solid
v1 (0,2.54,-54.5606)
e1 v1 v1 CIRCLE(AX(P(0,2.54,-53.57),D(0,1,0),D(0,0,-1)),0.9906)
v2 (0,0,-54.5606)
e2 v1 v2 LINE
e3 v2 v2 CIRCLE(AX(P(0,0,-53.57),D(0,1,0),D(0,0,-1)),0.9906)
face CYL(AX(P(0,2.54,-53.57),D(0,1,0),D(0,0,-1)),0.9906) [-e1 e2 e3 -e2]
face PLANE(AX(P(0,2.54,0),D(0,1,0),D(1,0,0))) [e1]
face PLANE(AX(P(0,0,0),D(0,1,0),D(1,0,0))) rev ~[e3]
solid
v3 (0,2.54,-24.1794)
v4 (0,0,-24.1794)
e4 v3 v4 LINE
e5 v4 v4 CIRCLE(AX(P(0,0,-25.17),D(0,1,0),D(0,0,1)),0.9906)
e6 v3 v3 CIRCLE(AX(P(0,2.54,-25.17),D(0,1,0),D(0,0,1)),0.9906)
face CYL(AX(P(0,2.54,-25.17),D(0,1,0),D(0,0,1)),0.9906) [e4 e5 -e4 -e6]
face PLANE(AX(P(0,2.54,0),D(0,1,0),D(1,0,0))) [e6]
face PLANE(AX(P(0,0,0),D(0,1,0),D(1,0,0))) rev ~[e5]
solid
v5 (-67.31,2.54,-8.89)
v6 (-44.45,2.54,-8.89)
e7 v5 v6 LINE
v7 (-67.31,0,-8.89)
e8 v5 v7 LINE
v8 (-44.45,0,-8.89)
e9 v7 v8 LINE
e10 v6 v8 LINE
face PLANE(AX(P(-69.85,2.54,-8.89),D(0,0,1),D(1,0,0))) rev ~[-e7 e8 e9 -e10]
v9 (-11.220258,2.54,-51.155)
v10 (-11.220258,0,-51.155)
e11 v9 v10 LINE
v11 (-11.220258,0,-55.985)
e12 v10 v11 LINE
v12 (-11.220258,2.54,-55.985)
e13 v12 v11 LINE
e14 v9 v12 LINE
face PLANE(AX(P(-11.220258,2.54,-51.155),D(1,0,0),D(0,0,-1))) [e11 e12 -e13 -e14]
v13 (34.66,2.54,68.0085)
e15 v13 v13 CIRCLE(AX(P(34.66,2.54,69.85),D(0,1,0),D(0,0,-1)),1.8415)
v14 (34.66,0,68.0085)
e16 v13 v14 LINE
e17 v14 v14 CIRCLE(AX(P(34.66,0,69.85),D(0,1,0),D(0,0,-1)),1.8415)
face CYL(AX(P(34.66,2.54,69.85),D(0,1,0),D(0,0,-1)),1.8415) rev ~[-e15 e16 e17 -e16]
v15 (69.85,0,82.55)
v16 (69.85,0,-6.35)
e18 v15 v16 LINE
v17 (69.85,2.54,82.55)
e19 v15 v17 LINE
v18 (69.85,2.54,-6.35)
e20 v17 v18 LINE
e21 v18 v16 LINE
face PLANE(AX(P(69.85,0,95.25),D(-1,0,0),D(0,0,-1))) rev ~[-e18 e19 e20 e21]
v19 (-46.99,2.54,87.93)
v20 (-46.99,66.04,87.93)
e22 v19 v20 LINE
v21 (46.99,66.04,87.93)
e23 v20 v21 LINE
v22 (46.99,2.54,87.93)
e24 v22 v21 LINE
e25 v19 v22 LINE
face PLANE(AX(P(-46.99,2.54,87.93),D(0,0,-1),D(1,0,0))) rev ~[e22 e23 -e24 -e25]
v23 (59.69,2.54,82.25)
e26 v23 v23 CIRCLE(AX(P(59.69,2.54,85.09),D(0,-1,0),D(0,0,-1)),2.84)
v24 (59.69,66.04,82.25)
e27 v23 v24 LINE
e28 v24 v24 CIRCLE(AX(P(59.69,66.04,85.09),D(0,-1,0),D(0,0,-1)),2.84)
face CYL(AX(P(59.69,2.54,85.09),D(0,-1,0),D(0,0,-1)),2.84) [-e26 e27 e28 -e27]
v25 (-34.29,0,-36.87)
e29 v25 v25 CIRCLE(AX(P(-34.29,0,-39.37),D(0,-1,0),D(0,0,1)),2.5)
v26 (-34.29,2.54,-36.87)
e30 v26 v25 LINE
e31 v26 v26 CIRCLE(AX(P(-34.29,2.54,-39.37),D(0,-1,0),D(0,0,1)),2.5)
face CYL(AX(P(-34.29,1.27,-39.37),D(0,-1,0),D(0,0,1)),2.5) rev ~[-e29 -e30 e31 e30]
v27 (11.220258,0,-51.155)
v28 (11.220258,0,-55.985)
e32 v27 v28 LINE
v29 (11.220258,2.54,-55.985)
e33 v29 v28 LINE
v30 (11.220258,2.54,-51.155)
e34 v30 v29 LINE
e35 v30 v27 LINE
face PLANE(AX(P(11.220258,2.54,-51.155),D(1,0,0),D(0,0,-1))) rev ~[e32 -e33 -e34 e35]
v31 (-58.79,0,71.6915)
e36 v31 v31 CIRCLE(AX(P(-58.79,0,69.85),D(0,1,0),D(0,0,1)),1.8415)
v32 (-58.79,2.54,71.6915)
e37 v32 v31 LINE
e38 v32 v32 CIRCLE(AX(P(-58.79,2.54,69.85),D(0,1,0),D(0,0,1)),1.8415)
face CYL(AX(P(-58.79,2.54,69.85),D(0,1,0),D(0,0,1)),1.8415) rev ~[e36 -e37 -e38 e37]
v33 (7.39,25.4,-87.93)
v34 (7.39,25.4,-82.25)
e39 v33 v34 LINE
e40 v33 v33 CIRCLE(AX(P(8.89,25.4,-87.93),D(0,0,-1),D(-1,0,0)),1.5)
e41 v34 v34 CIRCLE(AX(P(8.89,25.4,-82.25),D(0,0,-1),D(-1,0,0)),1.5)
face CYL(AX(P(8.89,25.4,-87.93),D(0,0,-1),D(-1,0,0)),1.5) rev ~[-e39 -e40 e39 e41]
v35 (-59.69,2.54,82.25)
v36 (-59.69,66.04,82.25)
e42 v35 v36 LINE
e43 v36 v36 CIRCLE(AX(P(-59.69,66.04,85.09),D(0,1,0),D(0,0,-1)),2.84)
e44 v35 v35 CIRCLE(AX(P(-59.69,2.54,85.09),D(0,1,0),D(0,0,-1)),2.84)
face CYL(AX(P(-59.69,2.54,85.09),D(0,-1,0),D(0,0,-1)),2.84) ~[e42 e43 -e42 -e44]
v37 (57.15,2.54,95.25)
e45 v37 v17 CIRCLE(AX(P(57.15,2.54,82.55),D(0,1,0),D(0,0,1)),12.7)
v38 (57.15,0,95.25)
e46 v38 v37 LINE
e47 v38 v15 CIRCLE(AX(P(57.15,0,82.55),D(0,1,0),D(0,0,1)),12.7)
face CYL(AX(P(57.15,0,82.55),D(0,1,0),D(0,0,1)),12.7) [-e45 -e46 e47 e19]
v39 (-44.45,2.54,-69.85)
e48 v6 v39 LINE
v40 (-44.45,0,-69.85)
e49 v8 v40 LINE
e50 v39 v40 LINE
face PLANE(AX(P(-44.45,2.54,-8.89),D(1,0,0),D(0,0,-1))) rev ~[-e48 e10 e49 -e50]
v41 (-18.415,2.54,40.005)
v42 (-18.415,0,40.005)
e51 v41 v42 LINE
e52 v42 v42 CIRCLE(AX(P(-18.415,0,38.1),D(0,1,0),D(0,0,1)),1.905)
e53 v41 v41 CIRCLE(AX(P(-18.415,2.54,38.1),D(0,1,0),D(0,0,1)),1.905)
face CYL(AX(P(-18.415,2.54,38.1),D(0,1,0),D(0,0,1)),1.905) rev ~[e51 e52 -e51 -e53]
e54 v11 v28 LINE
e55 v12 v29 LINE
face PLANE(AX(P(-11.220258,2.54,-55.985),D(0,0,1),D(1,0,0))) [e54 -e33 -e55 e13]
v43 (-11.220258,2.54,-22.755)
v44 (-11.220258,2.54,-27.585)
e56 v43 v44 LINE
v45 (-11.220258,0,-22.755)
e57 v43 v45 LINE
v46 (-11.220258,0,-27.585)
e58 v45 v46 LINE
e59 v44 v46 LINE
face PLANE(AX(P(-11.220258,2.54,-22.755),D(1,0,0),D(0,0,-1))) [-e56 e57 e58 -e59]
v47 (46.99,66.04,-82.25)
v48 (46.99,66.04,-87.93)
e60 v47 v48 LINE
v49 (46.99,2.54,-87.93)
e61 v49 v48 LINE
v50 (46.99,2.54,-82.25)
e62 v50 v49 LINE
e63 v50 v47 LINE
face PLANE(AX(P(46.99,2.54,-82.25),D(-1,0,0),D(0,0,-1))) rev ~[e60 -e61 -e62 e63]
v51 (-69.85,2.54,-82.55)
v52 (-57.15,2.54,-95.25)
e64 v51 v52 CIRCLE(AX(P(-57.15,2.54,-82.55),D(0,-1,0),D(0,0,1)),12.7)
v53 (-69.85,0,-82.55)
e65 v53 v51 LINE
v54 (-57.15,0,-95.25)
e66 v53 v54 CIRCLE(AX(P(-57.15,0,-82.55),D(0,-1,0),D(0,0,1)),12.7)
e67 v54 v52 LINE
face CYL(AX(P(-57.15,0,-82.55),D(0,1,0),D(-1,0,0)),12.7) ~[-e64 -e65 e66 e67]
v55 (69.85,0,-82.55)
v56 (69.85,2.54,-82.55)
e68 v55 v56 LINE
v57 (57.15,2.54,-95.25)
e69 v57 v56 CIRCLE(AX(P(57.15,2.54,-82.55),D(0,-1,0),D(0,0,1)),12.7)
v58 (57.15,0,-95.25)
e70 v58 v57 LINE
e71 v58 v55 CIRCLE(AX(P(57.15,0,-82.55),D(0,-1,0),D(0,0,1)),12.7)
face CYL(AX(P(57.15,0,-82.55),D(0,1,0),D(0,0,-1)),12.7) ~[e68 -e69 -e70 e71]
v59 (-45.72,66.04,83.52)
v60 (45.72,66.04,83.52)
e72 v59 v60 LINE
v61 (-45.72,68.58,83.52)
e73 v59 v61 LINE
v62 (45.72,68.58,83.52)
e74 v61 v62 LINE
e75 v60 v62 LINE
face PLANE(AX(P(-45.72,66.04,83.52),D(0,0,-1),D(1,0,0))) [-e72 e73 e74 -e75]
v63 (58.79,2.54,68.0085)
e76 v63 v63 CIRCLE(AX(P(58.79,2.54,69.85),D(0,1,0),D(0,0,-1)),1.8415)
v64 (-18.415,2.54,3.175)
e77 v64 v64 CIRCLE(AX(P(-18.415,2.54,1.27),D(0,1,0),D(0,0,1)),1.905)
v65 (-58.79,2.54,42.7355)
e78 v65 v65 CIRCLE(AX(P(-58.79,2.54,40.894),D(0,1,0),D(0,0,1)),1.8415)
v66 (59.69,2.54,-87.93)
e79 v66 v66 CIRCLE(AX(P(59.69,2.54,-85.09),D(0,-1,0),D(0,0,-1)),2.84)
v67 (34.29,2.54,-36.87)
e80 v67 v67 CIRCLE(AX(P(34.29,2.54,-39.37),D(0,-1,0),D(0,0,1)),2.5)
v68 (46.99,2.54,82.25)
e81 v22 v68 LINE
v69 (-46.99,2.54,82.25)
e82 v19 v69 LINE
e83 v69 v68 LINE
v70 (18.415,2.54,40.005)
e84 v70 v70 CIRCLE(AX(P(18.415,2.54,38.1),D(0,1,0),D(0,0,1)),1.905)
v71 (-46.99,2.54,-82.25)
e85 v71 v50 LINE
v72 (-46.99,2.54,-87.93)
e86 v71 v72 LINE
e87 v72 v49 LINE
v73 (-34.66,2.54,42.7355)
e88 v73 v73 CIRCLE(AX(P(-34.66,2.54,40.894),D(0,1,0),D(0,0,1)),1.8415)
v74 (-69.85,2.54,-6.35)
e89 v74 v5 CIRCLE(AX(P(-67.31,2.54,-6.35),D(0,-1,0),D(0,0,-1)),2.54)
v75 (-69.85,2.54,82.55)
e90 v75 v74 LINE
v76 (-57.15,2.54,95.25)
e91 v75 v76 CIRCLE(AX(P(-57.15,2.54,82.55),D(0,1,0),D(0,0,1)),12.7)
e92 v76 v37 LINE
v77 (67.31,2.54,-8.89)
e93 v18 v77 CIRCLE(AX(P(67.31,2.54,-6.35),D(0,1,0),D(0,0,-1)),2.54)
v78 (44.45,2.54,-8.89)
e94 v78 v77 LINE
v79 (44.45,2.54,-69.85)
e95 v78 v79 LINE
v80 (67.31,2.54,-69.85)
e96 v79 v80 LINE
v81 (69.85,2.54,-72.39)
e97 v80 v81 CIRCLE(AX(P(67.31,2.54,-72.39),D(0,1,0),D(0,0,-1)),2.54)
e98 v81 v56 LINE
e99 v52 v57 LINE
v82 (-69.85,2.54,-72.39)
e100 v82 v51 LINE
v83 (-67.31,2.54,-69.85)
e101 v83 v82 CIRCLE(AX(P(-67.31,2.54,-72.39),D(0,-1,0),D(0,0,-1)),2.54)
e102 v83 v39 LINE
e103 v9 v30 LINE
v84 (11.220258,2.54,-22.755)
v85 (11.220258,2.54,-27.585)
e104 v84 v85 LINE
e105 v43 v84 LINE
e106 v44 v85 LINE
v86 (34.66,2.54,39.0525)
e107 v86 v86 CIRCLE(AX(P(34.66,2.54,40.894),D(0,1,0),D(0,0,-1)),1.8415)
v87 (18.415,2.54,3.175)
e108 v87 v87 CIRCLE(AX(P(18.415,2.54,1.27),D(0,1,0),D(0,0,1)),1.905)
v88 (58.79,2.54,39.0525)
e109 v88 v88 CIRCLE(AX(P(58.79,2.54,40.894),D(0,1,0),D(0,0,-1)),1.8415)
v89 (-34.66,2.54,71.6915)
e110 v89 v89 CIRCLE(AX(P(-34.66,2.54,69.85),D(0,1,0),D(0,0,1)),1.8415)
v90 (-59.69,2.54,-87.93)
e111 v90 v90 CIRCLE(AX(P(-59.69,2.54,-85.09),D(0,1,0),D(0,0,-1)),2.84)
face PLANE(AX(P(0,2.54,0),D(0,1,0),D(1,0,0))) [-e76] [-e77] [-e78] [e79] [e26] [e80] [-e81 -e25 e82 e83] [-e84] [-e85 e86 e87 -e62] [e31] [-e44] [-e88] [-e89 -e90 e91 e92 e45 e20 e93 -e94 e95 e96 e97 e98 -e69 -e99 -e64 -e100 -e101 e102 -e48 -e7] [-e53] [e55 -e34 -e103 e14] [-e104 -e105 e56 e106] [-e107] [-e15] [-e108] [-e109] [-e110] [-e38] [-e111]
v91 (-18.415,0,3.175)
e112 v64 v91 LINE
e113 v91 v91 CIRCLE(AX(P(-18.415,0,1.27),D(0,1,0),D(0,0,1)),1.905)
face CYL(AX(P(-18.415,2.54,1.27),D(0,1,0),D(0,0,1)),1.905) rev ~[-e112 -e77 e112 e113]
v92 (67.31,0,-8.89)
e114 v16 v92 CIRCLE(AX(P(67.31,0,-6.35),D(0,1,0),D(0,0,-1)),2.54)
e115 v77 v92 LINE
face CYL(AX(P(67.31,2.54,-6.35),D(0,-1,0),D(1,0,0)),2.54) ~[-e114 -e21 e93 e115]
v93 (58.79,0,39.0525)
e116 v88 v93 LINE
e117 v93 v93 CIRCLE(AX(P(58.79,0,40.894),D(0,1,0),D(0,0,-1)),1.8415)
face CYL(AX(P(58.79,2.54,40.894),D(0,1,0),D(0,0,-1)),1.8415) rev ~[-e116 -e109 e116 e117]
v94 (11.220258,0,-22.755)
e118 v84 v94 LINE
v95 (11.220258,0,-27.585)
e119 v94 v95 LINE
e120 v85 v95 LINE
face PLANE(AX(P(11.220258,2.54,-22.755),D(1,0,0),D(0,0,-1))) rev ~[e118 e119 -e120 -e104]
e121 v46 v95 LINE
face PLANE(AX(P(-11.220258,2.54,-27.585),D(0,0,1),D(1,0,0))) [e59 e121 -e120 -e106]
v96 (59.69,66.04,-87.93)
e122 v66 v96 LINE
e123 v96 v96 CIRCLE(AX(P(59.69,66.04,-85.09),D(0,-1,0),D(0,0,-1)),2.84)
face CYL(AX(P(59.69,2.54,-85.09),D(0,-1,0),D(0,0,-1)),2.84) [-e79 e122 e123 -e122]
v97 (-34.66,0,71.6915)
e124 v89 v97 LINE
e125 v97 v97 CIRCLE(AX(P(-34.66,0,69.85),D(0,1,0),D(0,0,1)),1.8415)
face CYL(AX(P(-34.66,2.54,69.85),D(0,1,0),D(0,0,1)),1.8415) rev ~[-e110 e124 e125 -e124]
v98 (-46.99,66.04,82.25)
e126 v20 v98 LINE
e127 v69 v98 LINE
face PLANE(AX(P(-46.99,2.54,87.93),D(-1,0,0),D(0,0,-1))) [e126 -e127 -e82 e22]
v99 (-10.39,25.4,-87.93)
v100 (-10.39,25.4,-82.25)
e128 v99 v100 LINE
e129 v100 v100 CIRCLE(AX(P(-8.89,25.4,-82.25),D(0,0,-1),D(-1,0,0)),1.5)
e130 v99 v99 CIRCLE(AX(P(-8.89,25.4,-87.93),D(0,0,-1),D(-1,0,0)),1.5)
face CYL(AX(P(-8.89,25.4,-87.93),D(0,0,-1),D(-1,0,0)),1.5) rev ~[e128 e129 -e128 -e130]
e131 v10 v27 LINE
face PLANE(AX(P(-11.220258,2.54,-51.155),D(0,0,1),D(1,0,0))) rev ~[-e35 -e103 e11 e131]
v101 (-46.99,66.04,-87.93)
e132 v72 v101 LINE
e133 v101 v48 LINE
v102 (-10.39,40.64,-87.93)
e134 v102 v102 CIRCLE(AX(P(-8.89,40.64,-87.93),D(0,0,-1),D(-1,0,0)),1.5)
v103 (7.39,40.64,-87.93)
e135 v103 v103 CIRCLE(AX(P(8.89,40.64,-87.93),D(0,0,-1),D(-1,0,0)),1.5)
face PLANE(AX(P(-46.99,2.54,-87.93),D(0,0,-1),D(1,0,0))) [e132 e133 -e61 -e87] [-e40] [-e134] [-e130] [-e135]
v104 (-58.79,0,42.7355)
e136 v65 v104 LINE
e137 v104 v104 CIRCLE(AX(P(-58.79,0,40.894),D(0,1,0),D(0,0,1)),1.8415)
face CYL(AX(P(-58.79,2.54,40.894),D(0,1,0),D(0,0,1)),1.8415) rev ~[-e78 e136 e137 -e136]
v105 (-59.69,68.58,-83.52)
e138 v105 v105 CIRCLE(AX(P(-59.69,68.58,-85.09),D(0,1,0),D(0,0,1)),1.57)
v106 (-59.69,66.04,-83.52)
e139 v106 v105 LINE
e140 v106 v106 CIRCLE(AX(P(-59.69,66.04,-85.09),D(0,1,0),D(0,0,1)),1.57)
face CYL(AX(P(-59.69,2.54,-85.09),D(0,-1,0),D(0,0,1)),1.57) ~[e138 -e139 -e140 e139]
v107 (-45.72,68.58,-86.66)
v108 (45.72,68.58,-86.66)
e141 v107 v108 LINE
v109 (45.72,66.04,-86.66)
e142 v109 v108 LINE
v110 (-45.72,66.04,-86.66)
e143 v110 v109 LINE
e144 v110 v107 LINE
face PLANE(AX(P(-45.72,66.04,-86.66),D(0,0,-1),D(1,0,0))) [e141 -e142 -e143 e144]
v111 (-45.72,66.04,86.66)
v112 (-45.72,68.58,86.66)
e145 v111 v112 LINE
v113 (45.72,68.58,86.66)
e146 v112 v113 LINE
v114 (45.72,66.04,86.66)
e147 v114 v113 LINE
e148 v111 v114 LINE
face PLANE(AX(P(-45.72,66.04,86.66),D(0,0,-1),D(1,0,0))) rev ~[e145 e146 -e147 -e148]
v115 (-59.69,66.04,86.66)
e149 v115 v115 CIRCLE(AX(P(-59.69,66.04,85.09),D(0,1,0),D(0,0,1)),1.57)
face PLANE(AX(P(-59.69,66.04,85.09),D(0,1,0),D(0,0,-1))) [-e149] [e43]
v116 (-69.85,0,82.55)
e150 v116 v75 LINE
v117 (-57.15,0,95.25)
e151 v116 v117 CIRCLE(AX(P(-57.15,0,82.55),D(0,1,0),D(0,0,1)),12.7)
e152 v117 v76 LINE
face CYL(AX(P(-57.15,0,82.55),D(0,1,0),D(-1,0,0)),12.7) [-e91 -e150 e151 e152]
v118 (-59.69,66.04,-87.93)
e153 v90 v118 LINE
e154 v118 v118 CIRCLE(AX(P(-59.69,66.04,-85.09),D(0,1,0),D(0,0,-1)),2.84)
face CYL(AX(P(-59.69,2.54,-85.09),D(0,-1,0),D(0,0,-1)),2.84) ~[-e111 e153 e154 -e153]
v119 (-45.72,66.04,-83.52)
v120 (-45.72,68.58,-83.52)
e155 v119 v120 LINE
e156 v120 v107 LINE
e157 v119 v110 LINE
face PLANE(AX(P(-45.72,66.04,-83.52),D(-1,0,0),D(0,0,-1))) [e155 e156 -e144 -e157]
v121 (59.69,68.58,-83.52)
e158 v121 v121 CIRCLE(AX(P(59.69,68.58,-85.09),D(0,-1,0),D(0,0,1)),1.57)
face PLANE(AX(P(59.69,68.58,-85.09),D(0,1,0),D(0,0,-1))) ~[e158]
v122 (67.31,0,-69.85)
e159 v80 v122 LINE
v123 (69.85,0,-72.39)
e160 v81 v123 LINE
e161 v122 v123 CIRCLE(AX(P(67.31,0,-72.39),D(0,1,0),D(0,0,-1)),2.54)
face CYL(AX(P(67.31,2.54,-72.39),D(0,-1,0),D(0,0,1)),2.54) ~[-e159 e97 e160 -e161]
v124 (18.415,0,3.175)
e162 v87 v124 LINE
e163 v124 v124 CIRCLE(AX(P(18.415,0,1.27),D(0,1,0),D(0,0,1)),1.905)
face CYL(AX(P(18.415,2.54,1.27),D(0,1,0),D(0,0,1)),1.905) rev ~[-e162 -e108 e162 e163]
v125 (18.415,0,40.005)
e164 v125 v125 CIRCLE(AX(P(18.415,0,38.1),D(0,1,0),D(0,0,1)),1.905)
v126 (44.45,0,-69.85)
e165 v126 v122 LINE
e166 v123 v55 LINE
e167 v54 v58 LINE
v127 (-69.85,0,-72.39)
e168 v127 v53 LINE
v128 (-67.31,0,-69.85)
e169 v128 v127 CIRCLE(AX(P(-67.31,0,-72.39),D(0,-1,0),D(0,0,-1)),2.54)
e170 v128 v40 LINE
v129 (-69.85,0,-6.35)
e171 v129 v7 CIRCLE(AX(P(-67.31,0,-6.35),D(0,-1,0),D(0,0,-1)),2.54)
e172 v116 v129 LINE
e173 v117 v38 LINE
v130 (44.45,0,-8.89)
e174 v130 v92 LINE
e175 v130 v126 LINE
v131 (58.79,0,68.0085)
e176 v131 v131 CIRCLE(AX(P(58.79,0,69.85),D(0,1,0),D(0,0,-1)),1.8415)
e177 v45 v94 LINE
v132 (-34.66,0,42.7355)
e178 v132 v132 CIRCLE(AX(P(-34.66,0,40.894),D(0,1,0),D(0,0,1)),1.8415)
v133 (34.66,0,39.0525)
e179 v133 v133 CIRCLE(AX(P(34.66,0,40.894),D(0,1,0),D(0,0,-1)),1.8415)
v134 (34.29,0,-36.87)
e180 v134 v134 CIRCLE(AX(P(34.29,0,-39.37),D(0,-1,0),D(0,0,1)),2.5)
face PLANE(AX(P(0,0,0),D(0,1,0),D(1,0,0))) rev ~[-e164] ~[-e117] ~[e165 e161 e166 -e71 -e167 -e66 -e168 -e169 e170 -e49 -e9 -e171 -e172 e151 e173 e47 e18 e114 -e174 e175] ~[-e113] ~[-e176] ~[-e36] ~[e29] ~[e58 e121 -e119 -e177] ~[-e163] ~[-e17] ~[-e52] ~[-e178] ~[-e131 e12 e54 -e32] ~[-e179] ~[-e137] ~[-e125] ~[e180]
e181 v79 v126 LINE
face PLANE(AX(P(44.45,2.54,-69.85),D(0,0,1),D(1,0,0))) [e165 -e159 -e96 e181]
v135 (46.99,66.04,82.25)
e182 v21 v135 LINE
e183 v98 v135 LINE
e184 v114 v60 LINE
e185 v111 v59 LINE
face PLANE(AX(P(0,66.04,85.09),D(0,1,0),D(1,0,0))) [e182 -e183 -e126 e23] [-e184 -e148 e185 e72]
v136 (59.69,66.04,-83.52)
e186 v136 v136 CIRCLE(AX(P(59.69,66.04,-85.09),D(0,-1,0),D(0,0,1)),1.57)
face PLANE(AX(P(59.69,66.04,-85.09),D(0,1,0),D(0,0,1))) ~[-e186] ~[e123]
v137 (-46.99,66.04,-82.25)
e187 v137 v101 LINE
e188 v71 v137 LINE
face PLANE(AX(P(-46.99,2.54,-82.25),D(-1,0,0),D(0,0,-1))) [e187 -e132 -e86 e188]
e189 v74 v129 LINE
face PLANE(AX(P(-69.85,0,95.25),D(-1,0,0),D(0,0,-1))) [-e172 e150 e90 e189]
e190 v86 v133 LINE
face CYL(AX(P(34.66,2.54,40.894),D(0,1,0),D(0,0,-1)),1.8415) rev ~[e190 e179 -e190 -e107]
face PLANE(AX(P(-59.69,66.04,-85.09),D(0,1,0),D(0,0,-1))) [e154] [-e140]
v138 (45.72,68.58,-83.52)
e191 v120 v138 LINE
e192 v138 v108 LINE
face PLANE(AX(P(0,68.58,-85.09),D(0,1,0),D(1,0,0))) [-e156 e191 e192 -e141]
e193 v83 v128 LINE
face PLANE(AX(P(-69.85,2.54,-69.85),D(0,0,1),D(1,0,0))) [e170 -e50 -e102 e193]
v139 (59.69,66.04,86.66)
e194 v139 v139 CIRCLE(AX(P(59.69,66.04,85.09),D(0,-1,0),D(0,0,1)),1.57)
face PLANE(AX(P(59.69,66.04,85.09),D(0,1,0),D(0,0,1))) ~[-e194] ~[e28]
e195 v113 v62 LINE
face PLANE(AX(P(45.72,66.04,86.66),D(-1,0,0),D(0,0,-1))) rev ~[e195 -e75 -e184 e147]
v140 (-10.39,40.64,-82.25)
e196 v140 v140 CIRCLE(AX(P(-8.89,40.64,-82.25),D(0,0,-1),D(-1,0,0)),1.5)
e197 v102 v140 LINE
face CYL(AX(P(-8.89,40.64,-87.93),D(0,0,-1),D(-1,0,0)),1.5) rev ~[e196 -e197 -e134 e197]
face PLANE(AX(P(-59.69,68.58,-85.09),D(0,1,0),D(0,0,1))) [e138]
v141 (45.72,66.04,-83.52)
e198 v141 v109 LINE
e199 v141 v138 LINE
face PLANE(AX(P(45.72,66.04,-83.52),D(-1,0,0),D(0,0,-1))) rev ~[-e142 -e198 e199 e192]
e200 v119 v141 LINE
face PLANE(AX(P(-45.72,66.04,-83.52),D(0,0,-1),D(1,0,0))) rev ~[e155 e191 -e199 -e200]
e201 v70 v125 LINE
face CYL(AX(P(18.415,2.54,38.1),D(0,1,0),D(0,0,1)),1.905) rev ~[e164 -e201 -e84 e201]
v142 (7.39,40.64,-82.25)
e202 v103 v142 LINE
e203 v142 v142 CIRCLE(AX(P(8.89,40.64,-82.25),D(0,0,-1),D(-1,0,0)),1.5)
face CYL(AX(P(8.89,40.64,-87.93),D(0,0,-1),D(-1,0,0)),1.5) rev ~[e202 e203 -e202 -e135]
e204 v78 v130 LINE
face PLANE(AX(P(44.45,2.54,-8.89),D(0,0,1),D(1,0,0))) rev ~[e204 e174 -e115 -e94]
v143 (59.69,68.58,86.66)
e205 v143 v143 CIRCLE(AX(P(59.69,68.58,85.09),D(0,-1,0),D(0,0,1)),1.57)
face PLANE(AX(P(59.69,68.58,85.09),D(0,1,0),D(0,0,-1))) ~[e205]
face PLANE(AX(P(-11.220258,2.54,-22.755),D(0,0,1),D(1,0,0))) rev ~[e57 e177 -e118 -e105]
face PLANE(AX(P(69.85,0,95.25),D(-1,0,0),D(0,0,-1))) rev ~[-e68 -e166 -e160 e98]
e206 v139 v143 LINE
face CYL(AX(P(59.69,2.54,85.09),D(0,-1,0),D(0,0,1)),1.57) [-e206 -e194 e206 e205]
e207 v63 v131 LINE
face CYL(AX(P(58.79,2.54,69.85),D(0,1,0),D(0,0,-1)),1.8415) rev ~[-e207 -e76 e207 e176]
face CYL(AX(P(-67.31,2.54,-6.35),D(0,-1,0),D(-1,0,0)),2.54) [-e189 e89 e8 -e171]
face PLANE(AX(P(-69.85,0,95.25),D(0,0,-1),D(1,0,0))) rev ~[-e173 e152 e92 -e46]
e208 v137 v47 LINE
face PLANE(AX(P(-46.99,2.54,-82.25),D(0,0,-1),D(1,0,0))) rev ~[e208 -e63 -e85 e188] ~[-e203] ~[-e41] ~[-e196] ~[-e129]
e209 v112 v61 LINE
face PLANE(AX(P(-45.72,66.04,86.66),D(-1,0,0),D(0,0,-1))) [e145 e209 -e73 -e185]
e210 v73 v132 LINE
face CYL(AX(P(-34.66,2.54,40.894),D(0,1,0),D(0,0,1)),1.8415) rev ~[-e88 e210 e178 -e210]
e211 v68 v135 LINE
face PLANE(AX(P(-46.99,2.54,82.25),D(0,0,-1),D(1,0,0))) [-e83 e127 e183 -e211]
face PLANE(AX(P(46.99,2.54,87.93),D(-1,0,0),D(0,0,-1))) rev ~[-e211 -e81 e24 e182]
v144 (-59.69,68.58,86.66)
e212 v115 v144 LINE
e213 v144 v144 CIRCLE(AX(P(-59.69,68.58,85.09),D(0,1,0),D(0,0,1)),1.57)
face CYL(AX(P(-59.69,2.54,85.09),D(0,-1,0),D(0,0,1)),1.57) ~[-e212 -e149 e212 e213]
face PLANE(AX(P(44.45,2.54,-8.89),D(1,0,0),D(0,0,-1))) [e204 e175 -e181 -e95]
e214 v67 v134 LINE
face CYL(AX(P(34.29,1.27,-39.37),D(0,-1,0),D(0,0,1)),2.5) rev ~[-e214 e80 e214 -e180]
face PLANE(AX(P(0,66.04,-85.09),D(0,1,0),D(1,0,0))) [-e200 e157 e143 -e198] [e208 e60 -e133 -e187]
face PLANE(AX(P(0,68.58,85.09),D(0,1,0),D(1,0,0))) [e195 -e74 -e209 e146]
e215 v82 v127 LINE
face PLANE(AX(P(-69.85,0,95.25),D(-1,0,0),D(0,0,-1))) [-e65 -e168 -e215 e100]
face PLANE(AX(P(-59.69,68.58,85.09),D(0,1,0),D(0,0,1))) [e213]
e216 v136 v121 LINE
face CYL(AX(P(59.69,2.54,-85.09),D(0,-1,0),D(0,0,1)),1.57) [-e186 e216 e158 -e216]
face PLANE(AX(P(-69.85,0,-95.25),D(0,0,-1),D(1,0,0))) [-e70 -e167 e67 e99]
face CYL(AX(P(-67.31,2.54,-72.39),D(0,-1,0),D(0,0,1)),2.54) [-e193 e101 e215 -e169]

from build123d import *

# Parameters (mm, degrees)
SKETCH2_W                     = 139.7
SKETCH2_H                     = 190.5
BASE_PLATE_DEPTH              = 2.54
SKETCH4_R                     = 1.8415
L_BRACKET_HOLES_DEPTH         = 6.35
SKETCH5_W                     = 25.4
SKETCH5_H                     = 60.96
STEERING_WHEELS_HOLES_DEPTH   = 6.35
FILLET1_R                     = 12.7
FILLET2_R                     = 2.54
SKETCH13_R                    = 1.905
HOLES_FOR_L298_DEPTH          = 6.35
SKETCH14_W                    = 22.44051626
SKETCH14_H                    = 4.83
SKETCH14_R                    = 0.9906
CUT_EXTRUDE4_DEPTH            = 6.35
SKETCH20_W                    = 2.5
SKETCH20_H                    = 2.54
HOLES_FOR_STEERING_AT_2_COUNT = 2
HOLES_FOR_STEERING_AT_2_PITCH = 68.58
SKETCH15_R                    = 2.84
SKETCH15_R_2                  = 1.57
BOSS_EXTRUDE3_DEPTH           = 63.5
SKETCH15_2_R                  = 1.57
BOSS_EXTRUDE4_DEPTH           = 66.04
SKETCH23_R                    = 2.84
SKETCH23_R_2                  = 1.57
BOSS_EXTRUDE5_DEPTH           = 63.5
SKETCH23_2_R                  = 1.57
BOSS_EXTRUDE6_DEPTH           = 66.04
SKETCH24_W                    = 93.98
SKETCH24_H                    = 5.68
BOSS_EXTRUDE7_DEPTH           = 63.5
SKETCH25_W                    = 91.44
SKETCH25_H                    = 3.14
BOSS_EXTRUDE8_DEPTH           = 2.54
SKETCH26_R                    = 1.5
CUT_EXTRUDE5_DEPTH            = 5.68


with BuildPart() as part:
    # Sketch2 → Base Plate (new body)
    with BuildSketch(Plane(origin=(0, 0, 0), x_dir=(1, 0, 0), z_dir=(0, 1, 0))):
        Rectangle(SKETCH2_W, SKETCH2_H)
    extrude(amount=BASE_PLATE_DEPTH)

    # Sketch4 → L-Bracket holes (cut)
    with BuildSketch(Plane(origin=(0, 2.54, 0), x_dir=(1, 0, 0), z_dir=(0, 1, 0))):
        with Locations(Location((-58.79, -69.85, 0), (0, 0, 270))):
            Circle(SKETCH4_R)
        with Locations(Location((-34.66, -69.85, 0), (0, 0, 270))):
            Circle(SKETCH4_R)
        with Locations(Location((-34.66, -40.894, 0), (0, 0, 270))):
            Circle(SKETCH4_R)
        with Locations(Location((-58.79, -40.894, 0), (0, 0, 270))):
            Circle(SKETCH4_R)
        with Locations(Location((34.66, -69.85, 0), (0, 0, 90))):
            Circle(SKETCH4_R)
        with Locations(Location((58.79, -69.85, 0), (0, 0, 90))):
            Circle(SKETCH4_R)
        with Locations(Location((58.79, -40.894, 0), (0, 0, 90))):
            Circle(SKETCH4_R)
        with Locations(Location((34.66, -40.894, 0), (0, 0, 90))):
            Circle(SKETCH4_R)
    extrude(amount=-L_BRACKET_HOLES_DEPTH, mode=Mode.SUBTRACT)

    # Sketch5 → Steering Wheels Holes (cut)
    with BuildSketch(Plane(origin=(0, 2.54, 0), x_dir=(1, 0, 0), z_dir=(0, 1, 0))):
        with Locations((-57.15, 39.37)):
            Rectangle(SKETCH5_W, SKETCH5_H)
        with Locations((57.15, 39.37)):
            Rectangle(SKETCH5_W, SKETCH5_H)
    extrude(amount=-STEERING_WHEELS_HOLES_DEPTH, mode=Mode.SUBTRACT)

    # Fillet1
    fillet1_edges = [part.edges().sort_by_distance(p)[0] for p in [
        (69.85, 1.27, 95.25),
        (-69.85, 1.27, 95.25),
        (-69.85, 1.27, -95.25),
        (69.85, 1.27, -95.25),
    ]]
    fillet(fillet1_edges, radius=FILLET1_R)

    # Fillet2
    fillet2_edges = [part.edges().sort_by_distance(p)[0] for p in [
        (-69.85, 1.27, -8.89),
        (-69.85, 1.27, -69.85),
        (69.85, 1.27, -69.85),
        (69.85, 1.27, -8.89),
    ]]
    fillet(fillet2_edges, radius=FILLET2_R)

    # Sketch13 → Holes for L298 (cut)
    with BuildSketch(Plane(origin=(0, 2.54, 0), x_dir=(1, 0, 0), z_dir=(0, 1, 0))):
        with Locations(Location((-18.415, -1.27, 0), (0, 0, 270))):
            Circle(SKETCH13_R)
        with Locations(Location((-18.415, -38.1, 0), (0, 0, 270))):
            Circle(SKETCH13_R)
        with Locations(Location((18.415, -38.1, 0), (0, 0, 270))):
            Circle(SKETCH13_R)
        with Locations(Location((18.415, -1.27, 0), (0, 0, 270))):
            Circle(SKETCH13_R)
    extrude(amount=-HOLES_FOR_L298_DEPTH, mode=Mode.SUBTRACT)

    # Sketch14 → Cut-Extrude4 (cut)
    # profile 1 of 2: a face of its own
    with BuildSketch(Plane(origin=(0, 2.54, 0), x_dir=(1, 0, 0), z_dir=(0, 1, 0))):
        with Locations((0, 53.57)):
            Rectangle(SKETCH14_W, SKETCH14_H)
        with Locations(Location((0, 53.57, 0), (0, 0, 90))):
            Circle(SKETCH14_R, mode=Mode.SUBTRACT)
    # profile 2 of 2: a face of its own
    with BuildSketch(Plane(origin=(0, 2.54, 0), x_dir=(1, 0, 0), z_dir=(0, 1, 0))):
        with Locations((0, 25.17)):
            Rectangle(SKETCH14_W, SKETCH14_H)
        with Locations(Location((0, 25.17, 0), (0, 0, 270))):
            Circle(SKETCH14_R, mode=Mode.SUBTRACT)
    extrude(amount=-CUT_EXTRUDE4_DEPTH, mode=Mode.SUBTRACT)


with BuildPart() as cut_extrude4_piece_1:
    # of the separate pieces the step leaves, piece 1, a body of its own (cut_extrude4_pieces)
    add(part.part.solids().sort_by_distance((-69.85, 0, -6.35))[0])

    # Sketch20 → holes for steering (revolve, cut)
    with BuildSketch(Plane(origin=(-34.29, 2.54, -39.37), x_dir=(0, 0, 1), z_dir=(1, 0, 0))):
        with Locations((1.25, 1.27)):
            Rectangle(SKETCH20_W, SKETCH20_H)
    holes_for_steering = revolve(axis=Axis((-34.29, 8.89, -39.37), (0, -1, 0)), mode=Mode.SUBTRACT)

    # holes for steering at 2: holes for steering ×2
    with Locations(*[(i * HOLES_FOR_STEERING_AT_2_PITCH, 0, 0) for i in range(1, HOLES_FOR_STEERING_AT_2_COUNT)]):
        add(holes_for_steering, mode=Mode.SUBTRACT)

    # Sketch15 → Boss-Extrude3 (add)
    with BuildSketch(Plane(origin=(0, 2.54, 0), x_dir=(1, 0, 0), z_dir=(0, 1, 0))):
        with Locations(Location((-59.69, 85.09, 0), (0, 0, 90))):
            Circle(SKETCH15_R)
        with Locations(Location((-59.69, 85.09, 0), (0, 0, 270))):
            Circle(SKETCH15_R_2, mode=Mode.SUBTRACT)
    boss_extrude3 = extrude(amount=BOSS_EXTRUDE3_DEPTH)

    # Sketch15<2> → Boss-Extrude4 (add)
    with BuildSketch(Plane(origin=(0, 2.54, 0), x_dir=(1, 0, 0), z_dir=(0, 1, 0))):
        with Locations(Location((-59.69, 85.09, 0), (0, 0, 270))):
            Circle(SKETCH15_2_R)
    boss_extrude4 = extrude(amount=BOSS_EXTRUDE4_DEPTH)

    # Mirror1: Boss-Extrude4 across plane
    add(boss_extrude4.mirror(Plane(origin=(0, 0, 0), x_dir=(0, 0, 1), z_dir=(1, 0, 0))))

    # Mirror2: Boss-Extrude3 across plane
    add(boss_extrude3.mirror(Plane(origin=(0, 0, 0), x_dir=(0, 0, 1), z_dir=(1, 0, 0))))

    # Sketch23 → Boss-Extrude5 (add)
    with BuildSketch(Plane(origin=(0, 2.54, 0), x_dir=(1, 0, 0), z_dir=(0, 1, 0))):
        with Locations(Location((-59.69, -85.09, 0), (0, 0, 90))):
            Circle(SKETCH23_R)
        with Locations(Location((-59.69, -85.09, 0), (0, 0, 270))):
            Circle(SKETCH23_R_2, mode=Mode.SUBTRACT)
    boss_extrude5 = extrude(amount=BOSS_EXTRUDE5_DEPTH)

    # Sketch23<2> → Boss-Extrude6 (add)
    with BuildSketch(Plane(origin=(0, 2.54, 0), x_dir=(1, 0, 0), z_dir=(0, 1, 0))):
        with Locations(Location((-59.69, -85.09, 0), (0, 0, 270))):
            Circle(SKETCH23_2_R)
    boss_extrude6 = extrude(amount=BOSS_EXTRUDE6_DEPTH)

    # Mirror3: Boss-Extrude5, Boss-Extrude6 across plane
    add(boss_extrude5.mirror(Plane(origin=(0, 0, 0), x_dir=(0, 0, 1), z_dir=(1, 0, 0))))
    add(boss_extrude6.mirror(Plane(origin=(0, 0, 0), x_dir=(0, 0, 1), z_dir=(1, 0, 0))))

    # Sketch24 → Boss-Extrude7 (add)
    with BuildSketch(Plane(origin=(0, 2.54, 0), x_dir=(1, 0, 0), z_dir=(0, 1, 0))):
        with Locations((0, -85.09)):
            Rectangle(SKETCH24_W, SKETCH24_H)
        with Locations((0, 85.09)):
            Rectangle(SKETCH24_W, SKETCH24_H)
    extrude(amount=BOSS_EXTRUDE7_DEPTH)

    # Sketch25 → Boss-Extrude8 (add)
    with BuildSketch(Plane(origin=(0, 66.04, 0), x_dir=(1, 0, 0), z_dir=(0, 1, 0))):
        with Locations((0, -85.09)):
            Rectangle(SKETCH25_W, SKETCH25_H)
        with Locations((0, 85.09)):
            Rectangle(SKETCH25_W, SKETCH25_H)
    extrude(amount=BOSS_EXTRUDE8_DEPTH)

    # Sketch26 → Cut-Extrude5 (cut)
    with BuildSketch(Plane(origin=(0, 0, -87.93), x_dir=(-1, 0, 0), z_dir=(0, 0, -1))):
        with Locations((-8.89, 40.64)):
            Circle(SKETCH26_R)
        with Locations((-8.89, 25.4)):
            Circle(SKETCH26_R)
        with Locations((8.89, 25.4)):
            Circle(SKETCH26_R)
        with Locations((8.89, 40.64)):
            Circle(SKETCH26_R)
    extrude(amount=-CUT_EXTRUDE5_DEPTH, mode=Mode.SUBTRACT)


with BuildPart() as cut_extrude4_piece_2:
    # of the separate pieces the step leaves, piece 2, a body of its own (cut_extrude4_pieces)
    add(part.part.solids().sort_by_distance((0, 0, -54.5606))[0])


with BuildPart() as cut_extrude4_piece_3:
    # of the separate pieces the step leaves, piece 3, a body of its own (cut_extrude4_pieces)
    add(part.part.solids().sort_by_distance((0, 0, -24.1794))[0])


solid = Compound([cut_extrude4_piece_1.part, cut_extrude4_piece_2.part, cut_extrude4_piece_3.part])
